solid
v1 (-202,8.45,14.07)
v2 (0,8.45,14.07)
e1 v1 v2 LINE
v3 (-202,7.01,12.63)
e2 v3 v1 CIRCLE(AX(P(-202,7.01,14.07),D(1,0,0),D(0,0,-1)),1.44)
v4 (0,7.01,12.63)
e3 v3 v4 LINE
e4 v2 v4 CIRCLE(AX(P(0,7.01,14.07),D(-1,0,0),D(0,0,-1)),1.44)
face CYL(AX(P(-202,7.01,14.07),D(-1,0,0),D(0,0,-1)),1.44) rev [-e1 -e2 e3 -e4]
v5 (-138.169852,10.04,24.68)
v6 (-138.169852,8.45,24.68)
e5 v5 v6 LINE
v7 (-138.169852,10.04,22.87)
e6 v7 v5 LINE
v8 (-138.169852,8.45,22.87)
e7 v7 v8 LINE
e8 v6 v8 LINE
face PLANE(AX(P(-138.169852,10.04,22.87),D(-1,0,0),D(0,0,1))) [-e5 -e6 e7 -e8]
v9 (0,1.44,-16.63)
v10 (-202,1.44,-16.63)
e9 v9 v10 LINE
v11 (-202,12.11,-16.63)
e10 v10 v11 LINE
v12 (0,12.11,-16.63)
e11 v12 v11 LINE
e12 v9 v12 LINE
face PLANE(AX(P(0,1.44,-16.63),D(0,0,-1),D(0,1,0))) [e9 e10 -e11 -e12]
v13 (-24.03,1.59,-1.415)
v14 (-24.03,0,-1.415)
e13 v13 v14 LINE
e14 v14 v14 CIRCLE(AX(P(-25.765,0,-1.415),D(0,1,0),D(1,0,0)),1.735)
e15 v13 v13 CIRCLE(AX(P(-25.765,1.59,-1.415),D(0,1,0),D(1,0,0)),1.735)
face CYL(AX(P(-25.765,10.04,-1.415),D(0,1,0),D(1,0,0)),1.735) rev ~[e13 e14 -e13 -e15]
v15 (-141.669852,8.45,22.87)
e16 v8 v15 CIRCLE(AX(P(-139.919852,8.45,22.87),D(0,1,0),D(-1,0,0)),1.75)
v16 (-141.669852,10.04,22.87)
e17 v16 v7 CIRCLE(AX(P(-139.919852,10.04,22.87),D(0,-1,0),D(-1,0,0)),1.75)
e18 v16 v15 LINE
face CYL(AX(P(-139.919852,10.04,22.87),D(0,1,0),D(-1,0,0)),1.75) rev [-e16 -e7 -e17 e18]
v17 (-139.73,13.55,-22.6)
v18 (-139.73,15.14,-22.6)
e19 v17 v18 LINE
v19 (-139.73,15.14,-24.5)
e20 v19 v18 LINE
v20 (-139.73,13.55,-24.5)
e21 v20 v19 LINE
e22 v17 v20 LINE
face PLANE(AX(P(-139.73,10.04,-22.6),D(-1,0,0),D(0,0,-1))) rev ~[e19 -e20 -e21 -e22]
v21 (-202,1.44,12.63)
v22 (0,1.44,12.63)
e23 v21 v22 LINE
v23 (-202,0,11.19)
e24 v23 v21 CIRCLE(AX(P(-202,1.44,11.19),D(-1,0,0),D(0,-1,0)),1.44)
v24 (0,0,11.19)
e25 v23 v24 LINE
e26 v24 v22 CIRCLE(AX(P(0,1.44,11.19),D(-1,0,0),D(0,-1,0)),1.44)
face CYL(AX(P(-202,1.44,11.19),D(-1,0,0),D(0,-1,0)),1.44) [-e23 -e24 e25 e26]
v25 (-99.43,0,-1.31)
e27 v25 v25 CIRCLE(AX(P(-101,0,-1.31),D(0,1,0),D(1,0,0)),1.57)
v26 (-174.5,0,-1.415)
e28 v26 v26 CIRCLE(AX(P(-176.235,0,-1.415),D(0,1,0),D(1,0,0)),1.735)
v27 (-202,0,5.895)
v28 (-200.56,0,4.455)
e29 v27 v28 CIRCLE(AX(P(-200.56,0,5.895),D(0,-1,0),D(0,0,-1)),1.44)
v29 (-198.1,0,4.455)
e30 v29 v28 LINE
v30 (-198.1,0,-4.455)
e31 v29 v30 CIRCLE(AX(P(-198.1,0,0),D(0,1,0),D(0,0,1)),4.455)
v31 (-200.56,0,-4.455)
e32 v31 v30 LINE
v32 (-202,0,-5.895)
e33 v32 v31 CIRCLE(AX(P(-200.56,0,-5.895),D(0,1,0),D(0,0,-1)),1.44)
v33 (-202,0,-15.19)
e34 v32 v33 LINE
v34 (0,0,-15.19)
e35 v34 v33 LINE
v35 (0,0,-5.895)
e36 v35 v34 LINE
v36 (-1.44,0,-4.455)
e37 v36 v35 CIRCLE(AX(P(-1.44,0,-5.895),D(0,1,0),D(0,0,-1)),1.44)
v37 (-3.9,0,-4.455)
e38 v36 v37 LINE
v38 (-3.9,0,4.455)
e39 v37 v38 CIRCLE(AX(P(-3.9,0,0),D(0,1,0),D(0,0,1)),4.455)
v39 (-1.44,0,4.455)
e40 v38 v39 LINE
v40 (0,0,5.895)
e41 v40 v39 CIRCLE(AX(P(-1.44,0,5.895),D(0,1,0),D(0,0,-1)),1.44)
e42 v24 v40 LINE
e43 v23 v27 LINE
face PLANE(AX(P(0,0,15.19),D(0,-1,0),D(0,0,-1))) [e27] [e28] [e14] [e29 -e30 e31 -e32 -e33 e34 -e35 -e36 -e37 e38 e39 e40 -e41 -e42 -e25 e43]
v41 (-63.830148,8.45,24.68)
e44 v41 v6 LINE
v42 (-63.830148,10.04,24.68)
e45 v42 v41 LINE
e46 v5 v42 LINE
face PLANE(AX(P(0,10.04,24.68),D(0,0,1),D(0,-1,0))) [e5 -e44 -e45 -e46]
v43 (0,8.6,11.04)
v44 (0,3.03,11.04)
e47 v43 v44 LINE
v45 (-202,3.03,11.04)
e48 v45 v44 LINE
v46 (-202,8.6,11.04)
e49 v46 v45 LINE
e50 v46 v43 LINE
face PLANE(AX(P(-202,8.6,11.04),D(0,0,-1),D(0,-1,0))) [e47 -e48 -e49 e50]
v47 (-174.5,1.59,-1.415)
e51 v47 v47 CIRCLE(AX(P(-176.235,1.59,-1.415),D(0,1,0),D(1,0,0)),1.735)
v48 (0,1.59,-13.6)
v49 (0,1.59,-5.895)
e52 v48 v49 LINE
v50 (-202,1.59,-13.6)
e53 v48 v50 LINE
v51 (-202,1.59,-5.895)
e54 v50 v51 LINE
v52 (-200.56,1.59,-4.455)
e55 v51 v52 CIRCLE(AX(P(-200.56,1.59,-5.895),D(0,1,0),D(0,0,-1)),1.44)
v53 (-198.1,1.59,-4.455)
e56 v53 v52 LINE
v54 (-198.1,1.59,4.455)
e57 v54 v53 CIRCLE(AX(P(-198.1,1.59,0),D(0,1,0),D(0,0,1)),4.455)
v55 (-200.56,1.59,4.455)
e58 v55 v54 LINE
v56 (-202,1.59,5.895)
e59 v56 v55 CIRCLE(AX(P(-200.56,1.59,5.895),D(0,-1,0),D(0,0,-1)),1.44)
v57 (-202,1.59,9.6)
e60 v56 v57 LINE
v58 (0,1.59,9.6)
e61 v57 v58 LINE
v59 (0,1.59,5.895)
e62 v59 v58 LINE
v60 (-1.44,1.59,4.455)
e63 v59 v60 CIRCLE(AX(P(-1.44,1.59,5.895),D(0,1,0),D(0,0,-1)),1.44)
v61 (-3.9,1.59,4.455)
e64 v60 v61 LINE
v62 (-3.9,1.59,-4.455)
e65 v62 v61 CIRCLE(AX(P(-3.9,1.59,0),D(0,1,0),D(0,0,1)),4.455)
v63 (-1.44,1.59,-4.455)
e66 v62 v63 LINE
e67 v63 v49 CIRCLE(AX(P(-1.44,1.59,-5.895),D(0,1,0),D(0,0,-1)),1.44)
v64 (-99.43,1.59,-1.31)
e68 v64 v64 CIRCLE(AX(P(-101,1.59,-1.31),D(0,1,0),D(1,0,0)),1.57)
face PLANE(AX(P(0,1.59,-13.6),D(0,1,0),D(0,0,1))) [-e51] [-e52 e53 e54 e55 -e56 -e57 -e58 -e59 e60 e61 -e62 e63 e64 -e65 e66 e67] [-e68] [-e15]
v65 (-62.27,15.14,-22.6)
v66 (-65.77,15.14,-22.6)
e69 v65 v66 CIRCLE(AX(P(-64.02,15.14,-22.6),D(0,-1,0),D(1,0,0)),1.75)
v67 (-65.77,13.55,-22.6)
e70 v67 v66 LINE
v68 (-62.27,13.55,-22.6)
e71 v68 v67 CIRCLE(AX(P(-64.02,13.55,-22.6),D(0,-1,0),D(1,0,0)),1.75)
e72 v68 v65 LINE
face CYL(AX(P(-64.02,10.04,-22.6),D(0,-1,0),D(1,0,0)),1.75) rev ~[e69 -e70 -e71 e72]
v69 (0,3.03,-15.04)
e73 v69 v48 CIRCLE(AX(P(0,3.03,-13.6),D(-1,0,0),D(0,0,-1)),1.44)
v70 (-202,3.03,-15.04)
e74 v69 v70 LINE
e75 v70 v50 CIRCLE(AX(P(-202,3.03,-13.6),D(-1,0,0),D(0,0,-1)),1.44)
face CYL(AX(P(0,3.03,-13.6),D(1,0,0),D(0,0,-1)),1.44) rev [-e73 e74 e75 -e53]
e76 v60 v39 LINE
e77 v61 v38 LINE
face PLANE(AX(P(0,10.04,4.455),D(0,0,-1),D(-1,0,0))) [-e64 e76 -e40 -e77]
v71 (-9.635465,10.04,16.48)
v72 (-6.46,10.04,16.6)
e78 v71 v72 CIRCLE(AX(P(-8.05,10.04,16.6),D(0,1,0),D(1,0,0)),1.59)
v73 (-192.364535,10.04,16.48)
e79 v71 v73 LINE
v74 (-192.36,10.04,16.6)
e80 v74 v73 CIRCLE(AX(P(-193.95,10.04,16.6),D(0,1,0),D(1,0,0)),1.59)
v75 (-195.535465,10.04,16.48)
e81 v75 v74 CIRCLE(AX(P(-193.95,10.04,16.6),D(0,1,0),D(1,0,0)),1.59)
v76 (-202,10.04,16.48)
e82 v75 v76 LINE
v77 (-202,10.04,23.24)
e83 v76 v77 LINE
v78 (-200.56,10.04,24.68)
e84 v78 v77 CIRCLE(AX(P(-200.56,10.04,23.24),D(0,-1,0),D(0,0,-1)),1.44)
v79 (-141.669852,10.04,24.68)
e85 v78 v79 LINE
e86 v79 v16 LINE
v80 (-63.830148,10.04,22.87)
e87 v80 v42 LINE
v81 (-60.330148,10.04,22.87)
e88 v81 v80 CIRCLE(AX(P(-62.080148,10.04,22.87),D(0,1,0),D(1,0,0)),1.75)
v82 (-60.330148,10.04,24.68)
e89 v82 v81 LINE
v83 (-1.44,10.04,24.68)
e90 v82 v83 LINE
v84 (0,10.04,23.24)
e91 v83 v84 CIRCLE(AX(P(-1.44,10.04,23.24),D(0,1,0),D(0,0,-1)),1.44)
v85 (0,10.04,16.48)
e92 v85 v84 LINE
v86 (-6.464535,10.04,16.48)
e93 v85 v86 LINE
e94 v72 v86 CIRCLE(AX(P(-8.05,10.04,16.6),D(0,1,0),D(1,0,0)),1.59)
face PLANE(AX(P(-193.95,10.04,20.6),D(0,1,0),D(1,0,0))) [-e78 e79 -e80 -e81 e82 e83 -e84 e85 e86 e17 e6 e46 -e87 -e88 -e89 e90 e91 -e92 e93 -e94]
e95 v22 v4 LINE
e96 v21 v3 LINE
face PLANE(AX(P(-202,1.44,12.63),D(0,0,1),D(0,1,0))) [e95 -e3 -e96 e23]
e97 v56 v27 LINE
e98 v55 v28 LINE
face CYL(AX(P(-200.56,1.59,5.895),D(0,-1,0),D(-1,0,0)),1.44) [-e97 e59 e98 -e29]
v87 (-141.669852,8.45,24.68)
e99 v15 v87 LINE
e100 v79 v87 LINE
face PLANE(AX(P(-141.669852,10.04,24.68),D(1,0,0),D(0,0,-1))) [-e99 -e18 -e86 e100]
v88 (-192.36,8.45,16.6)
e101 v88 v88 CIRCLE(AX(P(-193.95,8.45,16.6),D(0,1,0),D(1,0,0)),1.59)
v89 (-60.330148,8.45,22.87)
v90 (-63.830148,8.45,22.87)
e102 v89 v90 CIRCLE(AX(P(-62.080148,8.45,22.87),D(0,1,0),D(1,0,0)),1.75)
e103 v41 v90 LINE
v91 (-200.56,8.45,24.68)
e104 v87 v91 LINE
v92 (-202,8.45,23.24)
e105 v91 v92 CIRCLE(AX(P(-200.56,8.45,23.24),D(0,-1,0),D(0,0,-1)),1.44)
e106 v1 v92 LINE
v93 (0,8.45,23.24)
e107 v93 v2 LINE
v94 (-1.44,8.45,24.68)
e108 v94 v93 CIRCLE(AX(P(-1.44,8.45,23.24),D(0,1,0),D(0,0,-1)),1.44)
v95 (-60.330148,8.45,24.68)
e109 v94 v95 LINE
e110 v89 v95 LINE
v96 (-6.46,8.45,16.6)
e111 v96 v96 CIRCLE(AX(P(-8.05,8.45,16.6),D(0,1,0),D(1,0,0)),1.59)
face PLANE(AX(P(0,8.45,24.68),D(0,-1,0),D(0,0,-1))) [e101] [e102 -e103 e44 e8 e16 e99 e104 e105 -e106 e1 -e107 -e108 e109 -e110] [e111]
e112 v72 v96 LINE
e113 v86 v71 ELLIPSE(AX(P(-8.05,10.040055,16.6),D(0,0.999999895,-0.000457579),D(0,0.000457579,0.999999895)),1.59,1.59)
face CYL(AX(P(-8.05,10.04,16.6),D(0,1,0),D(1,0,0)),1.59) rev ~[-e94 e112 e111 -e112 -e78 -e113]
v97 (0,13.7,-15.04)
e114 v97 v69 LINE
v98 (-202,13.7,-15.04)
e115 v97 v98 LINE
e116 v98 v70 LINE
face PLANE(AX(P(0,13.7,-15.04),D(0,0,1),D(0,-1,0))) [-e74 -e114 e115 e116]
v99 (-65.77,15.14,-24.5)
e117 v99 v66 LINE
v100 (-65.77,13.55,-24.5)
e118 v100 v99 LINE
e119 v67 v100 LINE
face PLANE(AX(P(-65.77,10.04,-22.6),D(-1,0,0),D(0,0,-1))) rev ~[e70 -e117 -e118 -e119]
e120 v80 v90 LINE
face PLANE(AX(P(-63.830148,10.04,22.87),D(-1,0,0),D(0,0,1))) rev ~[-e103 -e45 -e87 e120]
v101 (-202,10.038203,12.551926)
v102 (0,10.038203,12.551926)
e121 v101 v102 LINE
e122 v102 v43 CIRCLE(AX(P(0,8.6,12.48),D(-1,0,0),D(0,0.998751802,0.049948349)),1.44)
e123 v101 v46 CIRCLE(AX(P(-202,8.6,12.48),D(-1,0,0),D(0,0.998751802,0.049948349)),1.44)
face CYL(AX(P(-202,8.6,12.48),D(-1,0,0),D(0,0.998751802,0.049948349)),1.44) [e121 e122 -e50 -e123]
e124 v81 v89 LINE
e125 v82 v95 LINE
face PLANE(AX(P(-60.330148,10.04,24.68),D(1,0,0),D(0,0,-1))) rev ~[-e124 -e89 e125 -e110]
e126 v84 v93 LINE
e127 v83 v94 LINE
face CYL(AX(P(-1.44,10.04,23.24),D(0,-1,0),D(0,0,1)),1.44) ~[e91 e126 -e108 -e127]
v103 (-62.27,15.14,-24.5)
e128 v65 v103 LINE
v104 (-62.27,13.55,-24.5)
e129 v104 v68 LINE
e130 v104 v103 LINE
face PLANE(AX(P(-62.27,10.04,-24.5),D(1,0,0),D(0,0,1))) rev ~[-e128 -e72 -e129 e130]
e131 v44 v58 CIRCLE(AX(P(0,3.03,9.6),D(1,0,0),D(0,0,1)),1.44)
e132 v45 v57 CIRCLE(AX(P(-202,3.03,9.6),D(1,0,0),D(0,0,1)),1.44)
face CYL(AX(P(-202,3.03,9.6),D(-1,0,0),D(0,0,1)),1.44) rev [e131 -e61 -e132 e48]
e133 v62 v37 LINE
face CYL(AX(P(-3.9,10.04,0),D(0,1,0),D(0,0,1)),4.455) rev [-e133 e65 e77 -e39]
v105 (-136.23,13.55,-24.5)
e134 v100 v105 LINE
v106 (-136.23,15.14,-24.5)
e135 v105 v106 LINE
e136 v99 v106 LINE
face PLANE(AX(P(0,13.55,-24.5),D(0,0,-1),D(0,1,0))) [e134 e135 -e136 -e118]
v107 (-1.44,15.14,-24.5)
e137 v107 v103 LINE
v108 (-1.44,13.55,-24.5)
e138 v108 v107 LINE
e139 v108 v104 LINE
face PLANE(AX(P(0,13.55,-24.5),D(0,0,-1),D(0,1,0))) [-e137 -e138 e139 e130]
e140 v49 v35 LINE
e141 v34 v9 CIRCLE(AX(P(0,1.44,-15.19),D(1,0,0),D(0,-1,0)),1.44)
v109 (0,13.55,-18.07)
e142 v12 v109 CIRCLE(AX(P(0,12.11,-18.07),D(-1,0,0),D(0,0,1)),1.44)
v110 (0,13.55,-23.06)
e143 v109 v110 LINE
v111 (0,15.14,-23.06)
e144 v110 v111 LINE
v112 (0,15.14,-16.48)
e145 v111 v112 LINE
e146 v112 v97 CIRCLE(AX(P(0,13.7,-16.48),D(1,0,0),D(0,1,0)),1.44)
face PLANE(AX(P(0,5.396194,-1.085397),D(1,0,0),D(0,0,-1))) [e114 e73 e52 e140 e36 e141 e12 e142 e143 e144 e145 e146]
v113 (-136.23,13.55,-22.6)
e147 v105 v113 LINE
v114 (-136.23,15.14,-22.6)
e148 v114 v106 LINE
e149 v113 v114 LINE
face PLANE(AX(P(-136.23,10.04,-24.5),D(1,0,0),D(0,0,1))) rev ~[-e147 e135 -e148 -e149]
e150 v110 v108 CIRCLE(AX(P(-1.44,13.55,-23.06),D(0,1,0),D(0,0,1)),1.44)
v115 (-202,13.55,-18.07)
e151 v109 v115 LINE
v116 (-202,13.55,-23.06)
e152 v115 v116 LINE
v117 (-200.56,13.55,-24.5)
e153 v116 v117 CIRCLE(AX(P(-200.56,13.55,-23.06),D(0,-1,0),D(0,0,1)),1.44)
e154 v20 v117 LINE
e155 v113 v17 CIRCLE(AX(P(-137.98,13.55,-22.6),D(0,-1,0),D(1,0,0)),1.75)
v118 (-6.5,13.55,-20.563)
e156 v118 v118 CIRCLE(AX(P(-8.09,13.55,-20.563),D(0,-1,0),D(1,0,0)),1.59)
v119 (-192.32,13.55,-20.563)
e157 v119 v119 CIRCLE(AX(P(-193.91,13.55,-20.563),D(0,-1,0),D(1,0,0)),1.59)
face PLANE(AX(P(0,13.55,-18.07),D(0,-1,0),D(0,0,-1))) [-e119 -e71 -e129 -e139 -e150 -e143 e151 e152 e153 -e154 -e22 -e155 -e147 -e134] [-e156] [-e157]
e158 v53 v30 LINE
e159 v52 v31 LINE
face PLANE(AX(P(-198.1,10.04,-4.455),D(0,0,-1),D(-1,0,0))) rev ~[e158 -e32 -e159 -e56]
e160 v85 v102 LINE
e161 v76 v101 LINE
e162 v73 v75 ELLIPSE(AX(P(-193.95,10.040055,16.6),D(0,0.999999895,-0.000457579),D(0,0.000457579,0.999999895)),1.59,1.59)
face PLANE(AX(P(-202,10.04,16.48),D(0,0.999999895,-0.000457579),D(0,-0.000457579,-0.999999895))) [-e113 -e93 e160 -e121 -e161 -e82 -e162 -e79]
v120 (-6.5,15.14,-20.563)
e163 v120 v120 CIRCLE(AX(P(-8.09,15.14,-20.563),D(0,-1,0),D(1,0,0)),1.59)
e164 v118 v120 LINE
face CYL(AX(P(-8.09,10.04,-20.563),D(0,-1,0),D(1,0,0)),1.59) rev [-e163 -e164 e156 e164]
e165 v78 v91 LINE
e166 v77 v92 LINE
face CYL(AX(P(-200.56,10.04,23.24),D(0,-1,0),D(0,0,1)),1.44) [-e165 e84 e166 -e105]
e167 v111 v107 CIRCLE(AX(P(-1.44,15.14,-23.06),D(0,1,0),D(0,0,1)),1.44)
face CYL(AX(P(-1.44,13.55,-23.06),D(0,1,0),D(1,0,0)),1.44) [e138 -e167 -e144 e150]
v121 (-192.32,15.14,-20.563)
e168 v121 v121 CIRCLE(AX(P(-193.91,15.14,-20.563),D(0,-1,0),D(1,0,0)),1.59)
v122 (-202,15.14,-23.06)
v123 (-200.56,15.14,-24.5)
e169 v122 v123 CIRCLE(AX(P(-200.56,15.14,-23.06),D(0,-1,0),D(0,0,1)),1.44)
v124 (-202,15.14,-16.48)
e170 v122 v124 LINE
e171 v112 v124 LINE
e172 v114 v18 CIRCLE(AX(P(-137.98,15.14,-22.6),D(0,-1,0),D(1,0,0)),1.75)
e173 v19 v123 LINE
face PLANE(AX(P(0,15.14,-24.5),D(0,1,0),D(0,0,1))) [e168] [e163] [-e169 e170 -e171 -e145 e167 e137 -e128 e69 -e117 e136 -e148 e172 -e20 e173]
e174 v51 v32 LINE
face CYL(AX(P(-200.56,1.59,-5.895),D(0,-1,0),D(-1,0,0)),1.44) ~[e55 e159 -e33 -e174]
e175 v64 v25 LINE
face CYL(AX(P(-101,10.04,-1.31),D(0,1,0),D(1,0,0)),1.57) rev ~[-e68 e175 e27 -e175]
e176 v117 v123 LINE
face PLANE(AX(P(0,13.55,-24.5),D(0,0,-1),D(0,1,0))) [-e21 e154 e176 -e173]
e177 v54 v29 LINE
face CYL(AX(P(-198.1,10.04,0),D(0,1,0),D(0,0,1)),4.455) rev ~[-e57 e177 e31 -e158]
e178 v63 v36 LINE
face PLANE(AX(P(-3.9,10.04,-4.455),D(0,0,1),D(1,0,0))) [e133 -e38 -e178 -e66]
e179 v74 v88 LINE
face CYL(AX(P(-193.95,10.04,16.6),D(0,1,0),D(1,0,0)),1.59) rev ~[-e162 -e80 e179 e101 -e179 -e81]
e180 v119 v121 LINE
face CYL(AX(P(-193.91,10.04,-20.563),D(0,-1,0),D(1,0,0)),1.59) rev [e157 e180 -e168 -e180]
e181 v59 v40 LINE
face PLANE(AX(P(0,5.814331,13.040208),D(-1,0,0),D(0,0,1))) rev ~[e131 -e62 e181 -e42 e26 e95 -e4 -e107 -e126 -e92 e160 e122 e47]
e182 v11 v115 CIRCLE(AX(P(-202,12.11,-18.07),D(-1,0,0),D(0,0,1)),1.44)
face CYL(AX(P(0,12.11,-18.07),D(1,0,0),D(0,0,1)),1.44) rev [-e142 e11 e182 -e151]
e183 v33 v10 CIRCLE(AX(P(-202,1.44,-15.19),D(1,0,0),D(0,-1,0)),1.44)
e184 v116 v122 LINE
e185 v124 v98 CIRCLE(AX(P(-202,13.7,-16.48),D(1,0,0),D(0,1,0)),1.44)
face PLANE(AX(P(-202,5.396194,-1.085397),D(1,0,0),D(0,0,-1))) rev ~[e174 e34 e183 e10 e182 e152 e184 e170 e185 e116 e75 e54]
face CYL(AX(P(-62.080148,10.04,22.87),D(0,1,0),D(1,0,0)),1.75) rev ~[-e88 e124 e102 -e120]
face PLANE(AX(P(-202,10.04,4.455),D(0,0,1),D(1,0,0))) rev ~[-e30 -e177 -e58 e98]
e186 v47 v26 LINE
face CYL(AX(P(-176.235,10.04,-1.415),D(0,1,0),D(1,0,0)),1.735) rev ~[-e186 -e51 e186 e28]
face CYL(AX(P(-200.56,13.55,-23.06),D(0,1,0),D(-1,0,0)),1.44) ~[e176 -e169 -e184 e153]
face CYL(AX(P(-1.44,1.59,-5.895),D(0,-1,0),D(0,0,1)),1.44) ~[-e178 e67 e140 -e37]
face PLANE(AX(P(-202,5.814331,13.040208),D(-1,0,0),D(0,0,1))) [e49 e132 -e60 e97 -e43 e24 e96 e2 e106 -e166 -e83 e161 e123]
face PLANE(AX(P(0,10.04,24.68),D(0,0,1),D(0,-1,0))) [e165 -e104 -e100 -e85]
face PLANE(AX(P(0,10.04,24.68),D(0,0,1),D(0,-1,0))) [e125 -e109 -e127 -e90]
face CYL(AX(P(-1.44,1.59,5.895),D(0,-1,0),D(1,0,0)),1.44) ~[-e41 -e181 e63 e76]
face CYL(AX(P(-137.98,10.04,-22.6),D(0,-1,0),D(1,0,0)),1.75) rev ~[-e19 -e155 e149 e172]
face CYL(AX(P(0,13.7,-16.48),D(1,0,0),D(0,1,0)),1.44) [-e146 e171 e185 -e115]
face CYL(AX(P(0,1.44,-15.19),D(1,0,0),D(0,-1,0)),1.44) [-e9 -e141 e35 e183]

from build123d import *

# Parameters (mm, degrees)
BOSS_EXTRUDE1_DEPTH     = 202
FILLET1_R               = 1.44
FILLET2_R               = 1.44
SKETCH2_R               = 1.59
SKETCH2_R_2             = 1.735
SKETCH2_R_3             = 1.57
CUT_EXTRUDE1_DEPTH      = 6.1
CUT_EXTRUDE1_DEPTH_BACK = 11.04
FILLET3_R               = 1.44
BOSS_EXTRUDE2_DEPTH     = 202
CUT_EXTRUDE2_DEPTH      = 203
SKETCH5_R               = 1.59
CUT_EXTRUDE3_DEPTH      = 10
SKETCH6_R               = 1.59
BOSS_EXTRUDE3_DEPTH     = 1.59


with BuildPart() as part:
    # Sketch1 → Boss-Extrude1 (new body)
    with BuildSketch(Plane(origin=(0, 0, 0), x_dir=(0, 0, -1), z_dir=(1, 0, 0))):
        with BuildLine():
            Line((-15.04, 0), (15.04, 0))
            Line((15.04, 0), (15.19, 0))
            ThreePointArc((15.19, 0), (16.208233765, 0.421766235), (16.63, 1.44))
            Line((16.63, 1.44), (16.63, 12.11))
            ThreePointArc((16.63, 12.11), (17.051766235, 13.128233765), (18.07, 13.55))
            Line((18.07, 13.55), (24.5, 13.55))
            Line((24.5, 13.55), (24.5, 15.14))
            Line((24.5, 15.14), (16.48, 15.14))
            ThreePointArc((16.48, 15.14), (15.461766235, 14.718233765), (15.04, 13.7))
            Line((15.04, 13.7), (15.04, 3.03))
            ThreePointArc((15.04, 3.03), (14.618233765, 2.011766235), (13.6, 1.59))
            Line((13.6, 1.59), (-13.6, 1.59))
            ThreePointArc((-13.6, 1.59), (-14.618233765, 2.011766235), (-15.04, 3.03))
            Line((-15.04, 3.03), (-15.04, 8.6))
            ThreePointArc((-15.04, 8.6), (-15.461766235, 9.618233765), (-16.48, 10.04))
            Line((-16.48, 10.04), (-24.68, 10.04))
            Line((-24.68, 10.04), (-24.68, 8.45))
            Line((-24.68, 8.45), (-18.07, 8.45))
            ThreePointArc((-18.07, 8.45), (-17.051766235, 8.028233765), (-16.63, 7.01))
            Line((-16.63, 7.01), (-16.63, 1.44))
            ThreePointArc((-16.63, 1.44), (-16.208233765, 0.421766235), (-15.19, 0))
            Line((-15.19, 0), (-15.04, 0))
        make_face()
    extrude(amount=-BOSS_EXTRUDE1_DEPTH)

    # Fillet1
    fillet1_edges = [part.edges().sort_by_distance(p)[0] for p in [
        (0, 9.245, 24.68),
    ]]
    fillet(fillet1_edges, radius=FILLET1_R)

    # Fillet2
    fillet2_edges = [part.edges().sort_by_distance(p)[0] for p in [
        (-202, 14.345, -24.5),
        (0, 14.345, -24.5),
        (-202, 9.245, 24.68),
    ]]
    fillet(fillet2_edges, radius=FILLET2_R)

    # Sketch2 → Cut-Extrude1 (cut, two sides)
    with BuildSketch(Plane(origin=(0, 10.04, 0), x_dir=(1, 0, 0), z_dir=(0, 1, 0))) as cut_extrude1_sk:
        with Locations((-193.95, -20.6)):
            Circle(SKETCH2_R)
        with Locations((-8.05, -20.6)):
            Circle(SKETCH2_R)
        with Locations((-176.235, 1.415)):
            Circle(SKETCH2_R_2)
        with Locations((-25.765, 1.415)):
            Circle(SKETCH2_R_2)
        with Locations((-193.91, 20.563)):
            Circle(SKETCH2_R)
        with Locations((-101, 1.31)):
            Circle(SKETCH2_R_3)
        with Locations((-8.09, 20.563)):
            Circle(SKETCH2_R)
        with BuildLine():
            Line((0, 4.455), (0, -4.455))
            Line((0, -4.455), (-3.9, -4.455))
            ThreePointArc((-3.9, -4.455), (-8.355, 0), (-3.9, 4.455))
            Line((-3.9, 4.455), (0, 4.455))
        make_face()
        with BuildLine():
            Line((-141.669852281, -24.68), (-141.669852281, -22.87))
            ThreePointArc((-141.669852281, -22.87), (-139.919852281, -21.12), (-138.169852281, -22.87))
            Line((-138.169852281, -22.87), (-138.169852281, -24.68))
            Line((-138.169852281, -24.68), (-141.669852281, -24.68))
        make_face()
        with BuildLine():
            Line((-63.830147719, -22.87), (-63.830147719, -24.68))
            Line((-63.830147719, -24.68), (-60.330147719, -24.68))
            Line((-60.330147719, -24.68), (-60.330147719, -22.87))
            ThreePointArc((-60.330147719, -22.87), (-62.080147719, -21.12), (-63.830147719, -22.87))
        make_face()
        with BuildLine():
            Line((-139.73, 24.5), (-136.23, 24.5))
            Line((-136.23, 24.5), (-136.23, 22.6))
            ThreePointArc((-136.23, 22.6), (-137.98, 20.85), (-139.73, 22.6))
            Line((-139.73, 22.6), (-139.73, 24.5))
        make_face()
        with BuildLine():
            Line((-202, 4.455), (-202, -4.455))
            Line((-202, -4.455), (-198.1, -4.455))
            ThreePointArc((-198.1, -4.455), (-193.645, 0), (-198.1, 4.455))
            Line((-198.1, 4.455), (-202, 4.455))
        make_face()
        with BuildLine():
            Line((-62.27, 24.5), (-62.27, 22.6))
            ThreePointArc((-62.27, 22.6), (-64.02, 20.85), (-65.77, 22.6))
            Line((-65.77, 22.6), (-65.77, 24.5))
            Line((-65.77, 24.5), (-62.27, 24.5))
        make_face()
    extrude(amount=CUT_EXTRUDE1_DEPTH, mode=Mode.SUBTRACT)
    extrude(cut_extrude1_sk.sketch, amount=-CUT_EXTRUDE1_DEPTH_BACK, mode=Mode.SUBTRACT)

    # Fillet3
    fillet3_edges = [part.edges().sort_by_distance(p)[0] for p in [
        (-202, 0.795, 4.455),
        (-202, 0.795, -4.455),
        (0, 0.795, -4.455),
        (0, 0.795, 4.455),
    ]]
    fillet(fillet3_edges, radius=FILLET3_R)

    # Sketch3 → Boss-Extrude2 (add)
    with BuildSketch(Plane.ZY.offset(202)):
        with BuildLine():
            Line((15.04, 3.03), (15.04, 8.6))
            ThreePointArc((15.04, 8.6), (15.461766235, 9.618233765), (16.48, 10.04))
            Line((16.48, 10.04), (12.551925622, 10.038202595))
            ThreePointArc((12.551925622, 10.038202595), (11.487521511, 9.643353463), (11.04, 8.6))
            Line((11.04, 8.6), (11.04, 3.03))
            ThreePointArc((11.04, 3.03), (10.618233765, 2.011766235), (9.6, 1.59))
            Line((9.6, 1.59), (13.6, 1.59))
            ThreePointArc((13.6, 1.59), (14.618233765, 2.011766235), (15.04, 3.03))
        make_face()
    extrude(amount=-BOSS_EXTRUDE2_DEPTH)

    # Sketch4 → Cut-Extrude2 (cut, through all)
    with BuildSketch(Plane.ZY.offset(202)):
        with BuildLine():
            Line((16.63, 7.01), (16.63, 1.44))
            ThreePointArc((16.63, 1.44), (16.208233765, 0.421766235), (15.19, 0))
            Line((15.19, 0), (11.19, 0))
            ThreePointArc((11.19, 0), (12.208233765, 0.421766235), (12.63, 1.44))
            Line((12.63, 1.44), (12.63, 7.01))
            ThreePointArc((12.63, 7.01), (13.051766235, 8.028233765), (14.07, 8.45))
            Line((14.07, 8.45), (18.07, 8.45))
            ThreePointArc((18.07, 8.45), (17.051766235, 8.028233765), (16.63, 7.01))
        make_face()
    extrude(amount=-CUT_EXTRUDE2_DEPTH, mode=Mode.SUBTRACT)

    # Sketch5 → Cut-Extrude3 (cut)
    with BuildSketch(Plane(origin=(0, 10.04, 0), x_dir=(1, 0, 0), z_dir=(0, 1, 0))):
        with Locations((-193.95, -20.6)):
            Circle(SKETCH5_R)
        with Locations((-8.05, -20.6)):
            Circle(SKETCH5_R)
        with Locations((-193.95, -16.6)):
            Circle(SKETCH5_R)
        with Locations((-8.05, -16.6)):
            Circle(SKETCH5_R)
    extrude(amount=-CUT_EXTRUDE3_DEPTH, mode=Mode.SUBTRACT)

    # Sketch6 → Boss-Extrude3 (add)
    with BuildSketch(Plane(origin=(0, 10.04, 0), x_dir=(1, 0, 0), z_dir=(0, 1, 0))):
        with Locations((-193.95, -20.6)):
            Circle(SKETCH6_R)
        with Locations((-8.05, -20.6)):
            Circle(SKETCH6_R)
    extrude(amount=-BOSS_EXTRUDE3_DEPTH)


solid = part.part
